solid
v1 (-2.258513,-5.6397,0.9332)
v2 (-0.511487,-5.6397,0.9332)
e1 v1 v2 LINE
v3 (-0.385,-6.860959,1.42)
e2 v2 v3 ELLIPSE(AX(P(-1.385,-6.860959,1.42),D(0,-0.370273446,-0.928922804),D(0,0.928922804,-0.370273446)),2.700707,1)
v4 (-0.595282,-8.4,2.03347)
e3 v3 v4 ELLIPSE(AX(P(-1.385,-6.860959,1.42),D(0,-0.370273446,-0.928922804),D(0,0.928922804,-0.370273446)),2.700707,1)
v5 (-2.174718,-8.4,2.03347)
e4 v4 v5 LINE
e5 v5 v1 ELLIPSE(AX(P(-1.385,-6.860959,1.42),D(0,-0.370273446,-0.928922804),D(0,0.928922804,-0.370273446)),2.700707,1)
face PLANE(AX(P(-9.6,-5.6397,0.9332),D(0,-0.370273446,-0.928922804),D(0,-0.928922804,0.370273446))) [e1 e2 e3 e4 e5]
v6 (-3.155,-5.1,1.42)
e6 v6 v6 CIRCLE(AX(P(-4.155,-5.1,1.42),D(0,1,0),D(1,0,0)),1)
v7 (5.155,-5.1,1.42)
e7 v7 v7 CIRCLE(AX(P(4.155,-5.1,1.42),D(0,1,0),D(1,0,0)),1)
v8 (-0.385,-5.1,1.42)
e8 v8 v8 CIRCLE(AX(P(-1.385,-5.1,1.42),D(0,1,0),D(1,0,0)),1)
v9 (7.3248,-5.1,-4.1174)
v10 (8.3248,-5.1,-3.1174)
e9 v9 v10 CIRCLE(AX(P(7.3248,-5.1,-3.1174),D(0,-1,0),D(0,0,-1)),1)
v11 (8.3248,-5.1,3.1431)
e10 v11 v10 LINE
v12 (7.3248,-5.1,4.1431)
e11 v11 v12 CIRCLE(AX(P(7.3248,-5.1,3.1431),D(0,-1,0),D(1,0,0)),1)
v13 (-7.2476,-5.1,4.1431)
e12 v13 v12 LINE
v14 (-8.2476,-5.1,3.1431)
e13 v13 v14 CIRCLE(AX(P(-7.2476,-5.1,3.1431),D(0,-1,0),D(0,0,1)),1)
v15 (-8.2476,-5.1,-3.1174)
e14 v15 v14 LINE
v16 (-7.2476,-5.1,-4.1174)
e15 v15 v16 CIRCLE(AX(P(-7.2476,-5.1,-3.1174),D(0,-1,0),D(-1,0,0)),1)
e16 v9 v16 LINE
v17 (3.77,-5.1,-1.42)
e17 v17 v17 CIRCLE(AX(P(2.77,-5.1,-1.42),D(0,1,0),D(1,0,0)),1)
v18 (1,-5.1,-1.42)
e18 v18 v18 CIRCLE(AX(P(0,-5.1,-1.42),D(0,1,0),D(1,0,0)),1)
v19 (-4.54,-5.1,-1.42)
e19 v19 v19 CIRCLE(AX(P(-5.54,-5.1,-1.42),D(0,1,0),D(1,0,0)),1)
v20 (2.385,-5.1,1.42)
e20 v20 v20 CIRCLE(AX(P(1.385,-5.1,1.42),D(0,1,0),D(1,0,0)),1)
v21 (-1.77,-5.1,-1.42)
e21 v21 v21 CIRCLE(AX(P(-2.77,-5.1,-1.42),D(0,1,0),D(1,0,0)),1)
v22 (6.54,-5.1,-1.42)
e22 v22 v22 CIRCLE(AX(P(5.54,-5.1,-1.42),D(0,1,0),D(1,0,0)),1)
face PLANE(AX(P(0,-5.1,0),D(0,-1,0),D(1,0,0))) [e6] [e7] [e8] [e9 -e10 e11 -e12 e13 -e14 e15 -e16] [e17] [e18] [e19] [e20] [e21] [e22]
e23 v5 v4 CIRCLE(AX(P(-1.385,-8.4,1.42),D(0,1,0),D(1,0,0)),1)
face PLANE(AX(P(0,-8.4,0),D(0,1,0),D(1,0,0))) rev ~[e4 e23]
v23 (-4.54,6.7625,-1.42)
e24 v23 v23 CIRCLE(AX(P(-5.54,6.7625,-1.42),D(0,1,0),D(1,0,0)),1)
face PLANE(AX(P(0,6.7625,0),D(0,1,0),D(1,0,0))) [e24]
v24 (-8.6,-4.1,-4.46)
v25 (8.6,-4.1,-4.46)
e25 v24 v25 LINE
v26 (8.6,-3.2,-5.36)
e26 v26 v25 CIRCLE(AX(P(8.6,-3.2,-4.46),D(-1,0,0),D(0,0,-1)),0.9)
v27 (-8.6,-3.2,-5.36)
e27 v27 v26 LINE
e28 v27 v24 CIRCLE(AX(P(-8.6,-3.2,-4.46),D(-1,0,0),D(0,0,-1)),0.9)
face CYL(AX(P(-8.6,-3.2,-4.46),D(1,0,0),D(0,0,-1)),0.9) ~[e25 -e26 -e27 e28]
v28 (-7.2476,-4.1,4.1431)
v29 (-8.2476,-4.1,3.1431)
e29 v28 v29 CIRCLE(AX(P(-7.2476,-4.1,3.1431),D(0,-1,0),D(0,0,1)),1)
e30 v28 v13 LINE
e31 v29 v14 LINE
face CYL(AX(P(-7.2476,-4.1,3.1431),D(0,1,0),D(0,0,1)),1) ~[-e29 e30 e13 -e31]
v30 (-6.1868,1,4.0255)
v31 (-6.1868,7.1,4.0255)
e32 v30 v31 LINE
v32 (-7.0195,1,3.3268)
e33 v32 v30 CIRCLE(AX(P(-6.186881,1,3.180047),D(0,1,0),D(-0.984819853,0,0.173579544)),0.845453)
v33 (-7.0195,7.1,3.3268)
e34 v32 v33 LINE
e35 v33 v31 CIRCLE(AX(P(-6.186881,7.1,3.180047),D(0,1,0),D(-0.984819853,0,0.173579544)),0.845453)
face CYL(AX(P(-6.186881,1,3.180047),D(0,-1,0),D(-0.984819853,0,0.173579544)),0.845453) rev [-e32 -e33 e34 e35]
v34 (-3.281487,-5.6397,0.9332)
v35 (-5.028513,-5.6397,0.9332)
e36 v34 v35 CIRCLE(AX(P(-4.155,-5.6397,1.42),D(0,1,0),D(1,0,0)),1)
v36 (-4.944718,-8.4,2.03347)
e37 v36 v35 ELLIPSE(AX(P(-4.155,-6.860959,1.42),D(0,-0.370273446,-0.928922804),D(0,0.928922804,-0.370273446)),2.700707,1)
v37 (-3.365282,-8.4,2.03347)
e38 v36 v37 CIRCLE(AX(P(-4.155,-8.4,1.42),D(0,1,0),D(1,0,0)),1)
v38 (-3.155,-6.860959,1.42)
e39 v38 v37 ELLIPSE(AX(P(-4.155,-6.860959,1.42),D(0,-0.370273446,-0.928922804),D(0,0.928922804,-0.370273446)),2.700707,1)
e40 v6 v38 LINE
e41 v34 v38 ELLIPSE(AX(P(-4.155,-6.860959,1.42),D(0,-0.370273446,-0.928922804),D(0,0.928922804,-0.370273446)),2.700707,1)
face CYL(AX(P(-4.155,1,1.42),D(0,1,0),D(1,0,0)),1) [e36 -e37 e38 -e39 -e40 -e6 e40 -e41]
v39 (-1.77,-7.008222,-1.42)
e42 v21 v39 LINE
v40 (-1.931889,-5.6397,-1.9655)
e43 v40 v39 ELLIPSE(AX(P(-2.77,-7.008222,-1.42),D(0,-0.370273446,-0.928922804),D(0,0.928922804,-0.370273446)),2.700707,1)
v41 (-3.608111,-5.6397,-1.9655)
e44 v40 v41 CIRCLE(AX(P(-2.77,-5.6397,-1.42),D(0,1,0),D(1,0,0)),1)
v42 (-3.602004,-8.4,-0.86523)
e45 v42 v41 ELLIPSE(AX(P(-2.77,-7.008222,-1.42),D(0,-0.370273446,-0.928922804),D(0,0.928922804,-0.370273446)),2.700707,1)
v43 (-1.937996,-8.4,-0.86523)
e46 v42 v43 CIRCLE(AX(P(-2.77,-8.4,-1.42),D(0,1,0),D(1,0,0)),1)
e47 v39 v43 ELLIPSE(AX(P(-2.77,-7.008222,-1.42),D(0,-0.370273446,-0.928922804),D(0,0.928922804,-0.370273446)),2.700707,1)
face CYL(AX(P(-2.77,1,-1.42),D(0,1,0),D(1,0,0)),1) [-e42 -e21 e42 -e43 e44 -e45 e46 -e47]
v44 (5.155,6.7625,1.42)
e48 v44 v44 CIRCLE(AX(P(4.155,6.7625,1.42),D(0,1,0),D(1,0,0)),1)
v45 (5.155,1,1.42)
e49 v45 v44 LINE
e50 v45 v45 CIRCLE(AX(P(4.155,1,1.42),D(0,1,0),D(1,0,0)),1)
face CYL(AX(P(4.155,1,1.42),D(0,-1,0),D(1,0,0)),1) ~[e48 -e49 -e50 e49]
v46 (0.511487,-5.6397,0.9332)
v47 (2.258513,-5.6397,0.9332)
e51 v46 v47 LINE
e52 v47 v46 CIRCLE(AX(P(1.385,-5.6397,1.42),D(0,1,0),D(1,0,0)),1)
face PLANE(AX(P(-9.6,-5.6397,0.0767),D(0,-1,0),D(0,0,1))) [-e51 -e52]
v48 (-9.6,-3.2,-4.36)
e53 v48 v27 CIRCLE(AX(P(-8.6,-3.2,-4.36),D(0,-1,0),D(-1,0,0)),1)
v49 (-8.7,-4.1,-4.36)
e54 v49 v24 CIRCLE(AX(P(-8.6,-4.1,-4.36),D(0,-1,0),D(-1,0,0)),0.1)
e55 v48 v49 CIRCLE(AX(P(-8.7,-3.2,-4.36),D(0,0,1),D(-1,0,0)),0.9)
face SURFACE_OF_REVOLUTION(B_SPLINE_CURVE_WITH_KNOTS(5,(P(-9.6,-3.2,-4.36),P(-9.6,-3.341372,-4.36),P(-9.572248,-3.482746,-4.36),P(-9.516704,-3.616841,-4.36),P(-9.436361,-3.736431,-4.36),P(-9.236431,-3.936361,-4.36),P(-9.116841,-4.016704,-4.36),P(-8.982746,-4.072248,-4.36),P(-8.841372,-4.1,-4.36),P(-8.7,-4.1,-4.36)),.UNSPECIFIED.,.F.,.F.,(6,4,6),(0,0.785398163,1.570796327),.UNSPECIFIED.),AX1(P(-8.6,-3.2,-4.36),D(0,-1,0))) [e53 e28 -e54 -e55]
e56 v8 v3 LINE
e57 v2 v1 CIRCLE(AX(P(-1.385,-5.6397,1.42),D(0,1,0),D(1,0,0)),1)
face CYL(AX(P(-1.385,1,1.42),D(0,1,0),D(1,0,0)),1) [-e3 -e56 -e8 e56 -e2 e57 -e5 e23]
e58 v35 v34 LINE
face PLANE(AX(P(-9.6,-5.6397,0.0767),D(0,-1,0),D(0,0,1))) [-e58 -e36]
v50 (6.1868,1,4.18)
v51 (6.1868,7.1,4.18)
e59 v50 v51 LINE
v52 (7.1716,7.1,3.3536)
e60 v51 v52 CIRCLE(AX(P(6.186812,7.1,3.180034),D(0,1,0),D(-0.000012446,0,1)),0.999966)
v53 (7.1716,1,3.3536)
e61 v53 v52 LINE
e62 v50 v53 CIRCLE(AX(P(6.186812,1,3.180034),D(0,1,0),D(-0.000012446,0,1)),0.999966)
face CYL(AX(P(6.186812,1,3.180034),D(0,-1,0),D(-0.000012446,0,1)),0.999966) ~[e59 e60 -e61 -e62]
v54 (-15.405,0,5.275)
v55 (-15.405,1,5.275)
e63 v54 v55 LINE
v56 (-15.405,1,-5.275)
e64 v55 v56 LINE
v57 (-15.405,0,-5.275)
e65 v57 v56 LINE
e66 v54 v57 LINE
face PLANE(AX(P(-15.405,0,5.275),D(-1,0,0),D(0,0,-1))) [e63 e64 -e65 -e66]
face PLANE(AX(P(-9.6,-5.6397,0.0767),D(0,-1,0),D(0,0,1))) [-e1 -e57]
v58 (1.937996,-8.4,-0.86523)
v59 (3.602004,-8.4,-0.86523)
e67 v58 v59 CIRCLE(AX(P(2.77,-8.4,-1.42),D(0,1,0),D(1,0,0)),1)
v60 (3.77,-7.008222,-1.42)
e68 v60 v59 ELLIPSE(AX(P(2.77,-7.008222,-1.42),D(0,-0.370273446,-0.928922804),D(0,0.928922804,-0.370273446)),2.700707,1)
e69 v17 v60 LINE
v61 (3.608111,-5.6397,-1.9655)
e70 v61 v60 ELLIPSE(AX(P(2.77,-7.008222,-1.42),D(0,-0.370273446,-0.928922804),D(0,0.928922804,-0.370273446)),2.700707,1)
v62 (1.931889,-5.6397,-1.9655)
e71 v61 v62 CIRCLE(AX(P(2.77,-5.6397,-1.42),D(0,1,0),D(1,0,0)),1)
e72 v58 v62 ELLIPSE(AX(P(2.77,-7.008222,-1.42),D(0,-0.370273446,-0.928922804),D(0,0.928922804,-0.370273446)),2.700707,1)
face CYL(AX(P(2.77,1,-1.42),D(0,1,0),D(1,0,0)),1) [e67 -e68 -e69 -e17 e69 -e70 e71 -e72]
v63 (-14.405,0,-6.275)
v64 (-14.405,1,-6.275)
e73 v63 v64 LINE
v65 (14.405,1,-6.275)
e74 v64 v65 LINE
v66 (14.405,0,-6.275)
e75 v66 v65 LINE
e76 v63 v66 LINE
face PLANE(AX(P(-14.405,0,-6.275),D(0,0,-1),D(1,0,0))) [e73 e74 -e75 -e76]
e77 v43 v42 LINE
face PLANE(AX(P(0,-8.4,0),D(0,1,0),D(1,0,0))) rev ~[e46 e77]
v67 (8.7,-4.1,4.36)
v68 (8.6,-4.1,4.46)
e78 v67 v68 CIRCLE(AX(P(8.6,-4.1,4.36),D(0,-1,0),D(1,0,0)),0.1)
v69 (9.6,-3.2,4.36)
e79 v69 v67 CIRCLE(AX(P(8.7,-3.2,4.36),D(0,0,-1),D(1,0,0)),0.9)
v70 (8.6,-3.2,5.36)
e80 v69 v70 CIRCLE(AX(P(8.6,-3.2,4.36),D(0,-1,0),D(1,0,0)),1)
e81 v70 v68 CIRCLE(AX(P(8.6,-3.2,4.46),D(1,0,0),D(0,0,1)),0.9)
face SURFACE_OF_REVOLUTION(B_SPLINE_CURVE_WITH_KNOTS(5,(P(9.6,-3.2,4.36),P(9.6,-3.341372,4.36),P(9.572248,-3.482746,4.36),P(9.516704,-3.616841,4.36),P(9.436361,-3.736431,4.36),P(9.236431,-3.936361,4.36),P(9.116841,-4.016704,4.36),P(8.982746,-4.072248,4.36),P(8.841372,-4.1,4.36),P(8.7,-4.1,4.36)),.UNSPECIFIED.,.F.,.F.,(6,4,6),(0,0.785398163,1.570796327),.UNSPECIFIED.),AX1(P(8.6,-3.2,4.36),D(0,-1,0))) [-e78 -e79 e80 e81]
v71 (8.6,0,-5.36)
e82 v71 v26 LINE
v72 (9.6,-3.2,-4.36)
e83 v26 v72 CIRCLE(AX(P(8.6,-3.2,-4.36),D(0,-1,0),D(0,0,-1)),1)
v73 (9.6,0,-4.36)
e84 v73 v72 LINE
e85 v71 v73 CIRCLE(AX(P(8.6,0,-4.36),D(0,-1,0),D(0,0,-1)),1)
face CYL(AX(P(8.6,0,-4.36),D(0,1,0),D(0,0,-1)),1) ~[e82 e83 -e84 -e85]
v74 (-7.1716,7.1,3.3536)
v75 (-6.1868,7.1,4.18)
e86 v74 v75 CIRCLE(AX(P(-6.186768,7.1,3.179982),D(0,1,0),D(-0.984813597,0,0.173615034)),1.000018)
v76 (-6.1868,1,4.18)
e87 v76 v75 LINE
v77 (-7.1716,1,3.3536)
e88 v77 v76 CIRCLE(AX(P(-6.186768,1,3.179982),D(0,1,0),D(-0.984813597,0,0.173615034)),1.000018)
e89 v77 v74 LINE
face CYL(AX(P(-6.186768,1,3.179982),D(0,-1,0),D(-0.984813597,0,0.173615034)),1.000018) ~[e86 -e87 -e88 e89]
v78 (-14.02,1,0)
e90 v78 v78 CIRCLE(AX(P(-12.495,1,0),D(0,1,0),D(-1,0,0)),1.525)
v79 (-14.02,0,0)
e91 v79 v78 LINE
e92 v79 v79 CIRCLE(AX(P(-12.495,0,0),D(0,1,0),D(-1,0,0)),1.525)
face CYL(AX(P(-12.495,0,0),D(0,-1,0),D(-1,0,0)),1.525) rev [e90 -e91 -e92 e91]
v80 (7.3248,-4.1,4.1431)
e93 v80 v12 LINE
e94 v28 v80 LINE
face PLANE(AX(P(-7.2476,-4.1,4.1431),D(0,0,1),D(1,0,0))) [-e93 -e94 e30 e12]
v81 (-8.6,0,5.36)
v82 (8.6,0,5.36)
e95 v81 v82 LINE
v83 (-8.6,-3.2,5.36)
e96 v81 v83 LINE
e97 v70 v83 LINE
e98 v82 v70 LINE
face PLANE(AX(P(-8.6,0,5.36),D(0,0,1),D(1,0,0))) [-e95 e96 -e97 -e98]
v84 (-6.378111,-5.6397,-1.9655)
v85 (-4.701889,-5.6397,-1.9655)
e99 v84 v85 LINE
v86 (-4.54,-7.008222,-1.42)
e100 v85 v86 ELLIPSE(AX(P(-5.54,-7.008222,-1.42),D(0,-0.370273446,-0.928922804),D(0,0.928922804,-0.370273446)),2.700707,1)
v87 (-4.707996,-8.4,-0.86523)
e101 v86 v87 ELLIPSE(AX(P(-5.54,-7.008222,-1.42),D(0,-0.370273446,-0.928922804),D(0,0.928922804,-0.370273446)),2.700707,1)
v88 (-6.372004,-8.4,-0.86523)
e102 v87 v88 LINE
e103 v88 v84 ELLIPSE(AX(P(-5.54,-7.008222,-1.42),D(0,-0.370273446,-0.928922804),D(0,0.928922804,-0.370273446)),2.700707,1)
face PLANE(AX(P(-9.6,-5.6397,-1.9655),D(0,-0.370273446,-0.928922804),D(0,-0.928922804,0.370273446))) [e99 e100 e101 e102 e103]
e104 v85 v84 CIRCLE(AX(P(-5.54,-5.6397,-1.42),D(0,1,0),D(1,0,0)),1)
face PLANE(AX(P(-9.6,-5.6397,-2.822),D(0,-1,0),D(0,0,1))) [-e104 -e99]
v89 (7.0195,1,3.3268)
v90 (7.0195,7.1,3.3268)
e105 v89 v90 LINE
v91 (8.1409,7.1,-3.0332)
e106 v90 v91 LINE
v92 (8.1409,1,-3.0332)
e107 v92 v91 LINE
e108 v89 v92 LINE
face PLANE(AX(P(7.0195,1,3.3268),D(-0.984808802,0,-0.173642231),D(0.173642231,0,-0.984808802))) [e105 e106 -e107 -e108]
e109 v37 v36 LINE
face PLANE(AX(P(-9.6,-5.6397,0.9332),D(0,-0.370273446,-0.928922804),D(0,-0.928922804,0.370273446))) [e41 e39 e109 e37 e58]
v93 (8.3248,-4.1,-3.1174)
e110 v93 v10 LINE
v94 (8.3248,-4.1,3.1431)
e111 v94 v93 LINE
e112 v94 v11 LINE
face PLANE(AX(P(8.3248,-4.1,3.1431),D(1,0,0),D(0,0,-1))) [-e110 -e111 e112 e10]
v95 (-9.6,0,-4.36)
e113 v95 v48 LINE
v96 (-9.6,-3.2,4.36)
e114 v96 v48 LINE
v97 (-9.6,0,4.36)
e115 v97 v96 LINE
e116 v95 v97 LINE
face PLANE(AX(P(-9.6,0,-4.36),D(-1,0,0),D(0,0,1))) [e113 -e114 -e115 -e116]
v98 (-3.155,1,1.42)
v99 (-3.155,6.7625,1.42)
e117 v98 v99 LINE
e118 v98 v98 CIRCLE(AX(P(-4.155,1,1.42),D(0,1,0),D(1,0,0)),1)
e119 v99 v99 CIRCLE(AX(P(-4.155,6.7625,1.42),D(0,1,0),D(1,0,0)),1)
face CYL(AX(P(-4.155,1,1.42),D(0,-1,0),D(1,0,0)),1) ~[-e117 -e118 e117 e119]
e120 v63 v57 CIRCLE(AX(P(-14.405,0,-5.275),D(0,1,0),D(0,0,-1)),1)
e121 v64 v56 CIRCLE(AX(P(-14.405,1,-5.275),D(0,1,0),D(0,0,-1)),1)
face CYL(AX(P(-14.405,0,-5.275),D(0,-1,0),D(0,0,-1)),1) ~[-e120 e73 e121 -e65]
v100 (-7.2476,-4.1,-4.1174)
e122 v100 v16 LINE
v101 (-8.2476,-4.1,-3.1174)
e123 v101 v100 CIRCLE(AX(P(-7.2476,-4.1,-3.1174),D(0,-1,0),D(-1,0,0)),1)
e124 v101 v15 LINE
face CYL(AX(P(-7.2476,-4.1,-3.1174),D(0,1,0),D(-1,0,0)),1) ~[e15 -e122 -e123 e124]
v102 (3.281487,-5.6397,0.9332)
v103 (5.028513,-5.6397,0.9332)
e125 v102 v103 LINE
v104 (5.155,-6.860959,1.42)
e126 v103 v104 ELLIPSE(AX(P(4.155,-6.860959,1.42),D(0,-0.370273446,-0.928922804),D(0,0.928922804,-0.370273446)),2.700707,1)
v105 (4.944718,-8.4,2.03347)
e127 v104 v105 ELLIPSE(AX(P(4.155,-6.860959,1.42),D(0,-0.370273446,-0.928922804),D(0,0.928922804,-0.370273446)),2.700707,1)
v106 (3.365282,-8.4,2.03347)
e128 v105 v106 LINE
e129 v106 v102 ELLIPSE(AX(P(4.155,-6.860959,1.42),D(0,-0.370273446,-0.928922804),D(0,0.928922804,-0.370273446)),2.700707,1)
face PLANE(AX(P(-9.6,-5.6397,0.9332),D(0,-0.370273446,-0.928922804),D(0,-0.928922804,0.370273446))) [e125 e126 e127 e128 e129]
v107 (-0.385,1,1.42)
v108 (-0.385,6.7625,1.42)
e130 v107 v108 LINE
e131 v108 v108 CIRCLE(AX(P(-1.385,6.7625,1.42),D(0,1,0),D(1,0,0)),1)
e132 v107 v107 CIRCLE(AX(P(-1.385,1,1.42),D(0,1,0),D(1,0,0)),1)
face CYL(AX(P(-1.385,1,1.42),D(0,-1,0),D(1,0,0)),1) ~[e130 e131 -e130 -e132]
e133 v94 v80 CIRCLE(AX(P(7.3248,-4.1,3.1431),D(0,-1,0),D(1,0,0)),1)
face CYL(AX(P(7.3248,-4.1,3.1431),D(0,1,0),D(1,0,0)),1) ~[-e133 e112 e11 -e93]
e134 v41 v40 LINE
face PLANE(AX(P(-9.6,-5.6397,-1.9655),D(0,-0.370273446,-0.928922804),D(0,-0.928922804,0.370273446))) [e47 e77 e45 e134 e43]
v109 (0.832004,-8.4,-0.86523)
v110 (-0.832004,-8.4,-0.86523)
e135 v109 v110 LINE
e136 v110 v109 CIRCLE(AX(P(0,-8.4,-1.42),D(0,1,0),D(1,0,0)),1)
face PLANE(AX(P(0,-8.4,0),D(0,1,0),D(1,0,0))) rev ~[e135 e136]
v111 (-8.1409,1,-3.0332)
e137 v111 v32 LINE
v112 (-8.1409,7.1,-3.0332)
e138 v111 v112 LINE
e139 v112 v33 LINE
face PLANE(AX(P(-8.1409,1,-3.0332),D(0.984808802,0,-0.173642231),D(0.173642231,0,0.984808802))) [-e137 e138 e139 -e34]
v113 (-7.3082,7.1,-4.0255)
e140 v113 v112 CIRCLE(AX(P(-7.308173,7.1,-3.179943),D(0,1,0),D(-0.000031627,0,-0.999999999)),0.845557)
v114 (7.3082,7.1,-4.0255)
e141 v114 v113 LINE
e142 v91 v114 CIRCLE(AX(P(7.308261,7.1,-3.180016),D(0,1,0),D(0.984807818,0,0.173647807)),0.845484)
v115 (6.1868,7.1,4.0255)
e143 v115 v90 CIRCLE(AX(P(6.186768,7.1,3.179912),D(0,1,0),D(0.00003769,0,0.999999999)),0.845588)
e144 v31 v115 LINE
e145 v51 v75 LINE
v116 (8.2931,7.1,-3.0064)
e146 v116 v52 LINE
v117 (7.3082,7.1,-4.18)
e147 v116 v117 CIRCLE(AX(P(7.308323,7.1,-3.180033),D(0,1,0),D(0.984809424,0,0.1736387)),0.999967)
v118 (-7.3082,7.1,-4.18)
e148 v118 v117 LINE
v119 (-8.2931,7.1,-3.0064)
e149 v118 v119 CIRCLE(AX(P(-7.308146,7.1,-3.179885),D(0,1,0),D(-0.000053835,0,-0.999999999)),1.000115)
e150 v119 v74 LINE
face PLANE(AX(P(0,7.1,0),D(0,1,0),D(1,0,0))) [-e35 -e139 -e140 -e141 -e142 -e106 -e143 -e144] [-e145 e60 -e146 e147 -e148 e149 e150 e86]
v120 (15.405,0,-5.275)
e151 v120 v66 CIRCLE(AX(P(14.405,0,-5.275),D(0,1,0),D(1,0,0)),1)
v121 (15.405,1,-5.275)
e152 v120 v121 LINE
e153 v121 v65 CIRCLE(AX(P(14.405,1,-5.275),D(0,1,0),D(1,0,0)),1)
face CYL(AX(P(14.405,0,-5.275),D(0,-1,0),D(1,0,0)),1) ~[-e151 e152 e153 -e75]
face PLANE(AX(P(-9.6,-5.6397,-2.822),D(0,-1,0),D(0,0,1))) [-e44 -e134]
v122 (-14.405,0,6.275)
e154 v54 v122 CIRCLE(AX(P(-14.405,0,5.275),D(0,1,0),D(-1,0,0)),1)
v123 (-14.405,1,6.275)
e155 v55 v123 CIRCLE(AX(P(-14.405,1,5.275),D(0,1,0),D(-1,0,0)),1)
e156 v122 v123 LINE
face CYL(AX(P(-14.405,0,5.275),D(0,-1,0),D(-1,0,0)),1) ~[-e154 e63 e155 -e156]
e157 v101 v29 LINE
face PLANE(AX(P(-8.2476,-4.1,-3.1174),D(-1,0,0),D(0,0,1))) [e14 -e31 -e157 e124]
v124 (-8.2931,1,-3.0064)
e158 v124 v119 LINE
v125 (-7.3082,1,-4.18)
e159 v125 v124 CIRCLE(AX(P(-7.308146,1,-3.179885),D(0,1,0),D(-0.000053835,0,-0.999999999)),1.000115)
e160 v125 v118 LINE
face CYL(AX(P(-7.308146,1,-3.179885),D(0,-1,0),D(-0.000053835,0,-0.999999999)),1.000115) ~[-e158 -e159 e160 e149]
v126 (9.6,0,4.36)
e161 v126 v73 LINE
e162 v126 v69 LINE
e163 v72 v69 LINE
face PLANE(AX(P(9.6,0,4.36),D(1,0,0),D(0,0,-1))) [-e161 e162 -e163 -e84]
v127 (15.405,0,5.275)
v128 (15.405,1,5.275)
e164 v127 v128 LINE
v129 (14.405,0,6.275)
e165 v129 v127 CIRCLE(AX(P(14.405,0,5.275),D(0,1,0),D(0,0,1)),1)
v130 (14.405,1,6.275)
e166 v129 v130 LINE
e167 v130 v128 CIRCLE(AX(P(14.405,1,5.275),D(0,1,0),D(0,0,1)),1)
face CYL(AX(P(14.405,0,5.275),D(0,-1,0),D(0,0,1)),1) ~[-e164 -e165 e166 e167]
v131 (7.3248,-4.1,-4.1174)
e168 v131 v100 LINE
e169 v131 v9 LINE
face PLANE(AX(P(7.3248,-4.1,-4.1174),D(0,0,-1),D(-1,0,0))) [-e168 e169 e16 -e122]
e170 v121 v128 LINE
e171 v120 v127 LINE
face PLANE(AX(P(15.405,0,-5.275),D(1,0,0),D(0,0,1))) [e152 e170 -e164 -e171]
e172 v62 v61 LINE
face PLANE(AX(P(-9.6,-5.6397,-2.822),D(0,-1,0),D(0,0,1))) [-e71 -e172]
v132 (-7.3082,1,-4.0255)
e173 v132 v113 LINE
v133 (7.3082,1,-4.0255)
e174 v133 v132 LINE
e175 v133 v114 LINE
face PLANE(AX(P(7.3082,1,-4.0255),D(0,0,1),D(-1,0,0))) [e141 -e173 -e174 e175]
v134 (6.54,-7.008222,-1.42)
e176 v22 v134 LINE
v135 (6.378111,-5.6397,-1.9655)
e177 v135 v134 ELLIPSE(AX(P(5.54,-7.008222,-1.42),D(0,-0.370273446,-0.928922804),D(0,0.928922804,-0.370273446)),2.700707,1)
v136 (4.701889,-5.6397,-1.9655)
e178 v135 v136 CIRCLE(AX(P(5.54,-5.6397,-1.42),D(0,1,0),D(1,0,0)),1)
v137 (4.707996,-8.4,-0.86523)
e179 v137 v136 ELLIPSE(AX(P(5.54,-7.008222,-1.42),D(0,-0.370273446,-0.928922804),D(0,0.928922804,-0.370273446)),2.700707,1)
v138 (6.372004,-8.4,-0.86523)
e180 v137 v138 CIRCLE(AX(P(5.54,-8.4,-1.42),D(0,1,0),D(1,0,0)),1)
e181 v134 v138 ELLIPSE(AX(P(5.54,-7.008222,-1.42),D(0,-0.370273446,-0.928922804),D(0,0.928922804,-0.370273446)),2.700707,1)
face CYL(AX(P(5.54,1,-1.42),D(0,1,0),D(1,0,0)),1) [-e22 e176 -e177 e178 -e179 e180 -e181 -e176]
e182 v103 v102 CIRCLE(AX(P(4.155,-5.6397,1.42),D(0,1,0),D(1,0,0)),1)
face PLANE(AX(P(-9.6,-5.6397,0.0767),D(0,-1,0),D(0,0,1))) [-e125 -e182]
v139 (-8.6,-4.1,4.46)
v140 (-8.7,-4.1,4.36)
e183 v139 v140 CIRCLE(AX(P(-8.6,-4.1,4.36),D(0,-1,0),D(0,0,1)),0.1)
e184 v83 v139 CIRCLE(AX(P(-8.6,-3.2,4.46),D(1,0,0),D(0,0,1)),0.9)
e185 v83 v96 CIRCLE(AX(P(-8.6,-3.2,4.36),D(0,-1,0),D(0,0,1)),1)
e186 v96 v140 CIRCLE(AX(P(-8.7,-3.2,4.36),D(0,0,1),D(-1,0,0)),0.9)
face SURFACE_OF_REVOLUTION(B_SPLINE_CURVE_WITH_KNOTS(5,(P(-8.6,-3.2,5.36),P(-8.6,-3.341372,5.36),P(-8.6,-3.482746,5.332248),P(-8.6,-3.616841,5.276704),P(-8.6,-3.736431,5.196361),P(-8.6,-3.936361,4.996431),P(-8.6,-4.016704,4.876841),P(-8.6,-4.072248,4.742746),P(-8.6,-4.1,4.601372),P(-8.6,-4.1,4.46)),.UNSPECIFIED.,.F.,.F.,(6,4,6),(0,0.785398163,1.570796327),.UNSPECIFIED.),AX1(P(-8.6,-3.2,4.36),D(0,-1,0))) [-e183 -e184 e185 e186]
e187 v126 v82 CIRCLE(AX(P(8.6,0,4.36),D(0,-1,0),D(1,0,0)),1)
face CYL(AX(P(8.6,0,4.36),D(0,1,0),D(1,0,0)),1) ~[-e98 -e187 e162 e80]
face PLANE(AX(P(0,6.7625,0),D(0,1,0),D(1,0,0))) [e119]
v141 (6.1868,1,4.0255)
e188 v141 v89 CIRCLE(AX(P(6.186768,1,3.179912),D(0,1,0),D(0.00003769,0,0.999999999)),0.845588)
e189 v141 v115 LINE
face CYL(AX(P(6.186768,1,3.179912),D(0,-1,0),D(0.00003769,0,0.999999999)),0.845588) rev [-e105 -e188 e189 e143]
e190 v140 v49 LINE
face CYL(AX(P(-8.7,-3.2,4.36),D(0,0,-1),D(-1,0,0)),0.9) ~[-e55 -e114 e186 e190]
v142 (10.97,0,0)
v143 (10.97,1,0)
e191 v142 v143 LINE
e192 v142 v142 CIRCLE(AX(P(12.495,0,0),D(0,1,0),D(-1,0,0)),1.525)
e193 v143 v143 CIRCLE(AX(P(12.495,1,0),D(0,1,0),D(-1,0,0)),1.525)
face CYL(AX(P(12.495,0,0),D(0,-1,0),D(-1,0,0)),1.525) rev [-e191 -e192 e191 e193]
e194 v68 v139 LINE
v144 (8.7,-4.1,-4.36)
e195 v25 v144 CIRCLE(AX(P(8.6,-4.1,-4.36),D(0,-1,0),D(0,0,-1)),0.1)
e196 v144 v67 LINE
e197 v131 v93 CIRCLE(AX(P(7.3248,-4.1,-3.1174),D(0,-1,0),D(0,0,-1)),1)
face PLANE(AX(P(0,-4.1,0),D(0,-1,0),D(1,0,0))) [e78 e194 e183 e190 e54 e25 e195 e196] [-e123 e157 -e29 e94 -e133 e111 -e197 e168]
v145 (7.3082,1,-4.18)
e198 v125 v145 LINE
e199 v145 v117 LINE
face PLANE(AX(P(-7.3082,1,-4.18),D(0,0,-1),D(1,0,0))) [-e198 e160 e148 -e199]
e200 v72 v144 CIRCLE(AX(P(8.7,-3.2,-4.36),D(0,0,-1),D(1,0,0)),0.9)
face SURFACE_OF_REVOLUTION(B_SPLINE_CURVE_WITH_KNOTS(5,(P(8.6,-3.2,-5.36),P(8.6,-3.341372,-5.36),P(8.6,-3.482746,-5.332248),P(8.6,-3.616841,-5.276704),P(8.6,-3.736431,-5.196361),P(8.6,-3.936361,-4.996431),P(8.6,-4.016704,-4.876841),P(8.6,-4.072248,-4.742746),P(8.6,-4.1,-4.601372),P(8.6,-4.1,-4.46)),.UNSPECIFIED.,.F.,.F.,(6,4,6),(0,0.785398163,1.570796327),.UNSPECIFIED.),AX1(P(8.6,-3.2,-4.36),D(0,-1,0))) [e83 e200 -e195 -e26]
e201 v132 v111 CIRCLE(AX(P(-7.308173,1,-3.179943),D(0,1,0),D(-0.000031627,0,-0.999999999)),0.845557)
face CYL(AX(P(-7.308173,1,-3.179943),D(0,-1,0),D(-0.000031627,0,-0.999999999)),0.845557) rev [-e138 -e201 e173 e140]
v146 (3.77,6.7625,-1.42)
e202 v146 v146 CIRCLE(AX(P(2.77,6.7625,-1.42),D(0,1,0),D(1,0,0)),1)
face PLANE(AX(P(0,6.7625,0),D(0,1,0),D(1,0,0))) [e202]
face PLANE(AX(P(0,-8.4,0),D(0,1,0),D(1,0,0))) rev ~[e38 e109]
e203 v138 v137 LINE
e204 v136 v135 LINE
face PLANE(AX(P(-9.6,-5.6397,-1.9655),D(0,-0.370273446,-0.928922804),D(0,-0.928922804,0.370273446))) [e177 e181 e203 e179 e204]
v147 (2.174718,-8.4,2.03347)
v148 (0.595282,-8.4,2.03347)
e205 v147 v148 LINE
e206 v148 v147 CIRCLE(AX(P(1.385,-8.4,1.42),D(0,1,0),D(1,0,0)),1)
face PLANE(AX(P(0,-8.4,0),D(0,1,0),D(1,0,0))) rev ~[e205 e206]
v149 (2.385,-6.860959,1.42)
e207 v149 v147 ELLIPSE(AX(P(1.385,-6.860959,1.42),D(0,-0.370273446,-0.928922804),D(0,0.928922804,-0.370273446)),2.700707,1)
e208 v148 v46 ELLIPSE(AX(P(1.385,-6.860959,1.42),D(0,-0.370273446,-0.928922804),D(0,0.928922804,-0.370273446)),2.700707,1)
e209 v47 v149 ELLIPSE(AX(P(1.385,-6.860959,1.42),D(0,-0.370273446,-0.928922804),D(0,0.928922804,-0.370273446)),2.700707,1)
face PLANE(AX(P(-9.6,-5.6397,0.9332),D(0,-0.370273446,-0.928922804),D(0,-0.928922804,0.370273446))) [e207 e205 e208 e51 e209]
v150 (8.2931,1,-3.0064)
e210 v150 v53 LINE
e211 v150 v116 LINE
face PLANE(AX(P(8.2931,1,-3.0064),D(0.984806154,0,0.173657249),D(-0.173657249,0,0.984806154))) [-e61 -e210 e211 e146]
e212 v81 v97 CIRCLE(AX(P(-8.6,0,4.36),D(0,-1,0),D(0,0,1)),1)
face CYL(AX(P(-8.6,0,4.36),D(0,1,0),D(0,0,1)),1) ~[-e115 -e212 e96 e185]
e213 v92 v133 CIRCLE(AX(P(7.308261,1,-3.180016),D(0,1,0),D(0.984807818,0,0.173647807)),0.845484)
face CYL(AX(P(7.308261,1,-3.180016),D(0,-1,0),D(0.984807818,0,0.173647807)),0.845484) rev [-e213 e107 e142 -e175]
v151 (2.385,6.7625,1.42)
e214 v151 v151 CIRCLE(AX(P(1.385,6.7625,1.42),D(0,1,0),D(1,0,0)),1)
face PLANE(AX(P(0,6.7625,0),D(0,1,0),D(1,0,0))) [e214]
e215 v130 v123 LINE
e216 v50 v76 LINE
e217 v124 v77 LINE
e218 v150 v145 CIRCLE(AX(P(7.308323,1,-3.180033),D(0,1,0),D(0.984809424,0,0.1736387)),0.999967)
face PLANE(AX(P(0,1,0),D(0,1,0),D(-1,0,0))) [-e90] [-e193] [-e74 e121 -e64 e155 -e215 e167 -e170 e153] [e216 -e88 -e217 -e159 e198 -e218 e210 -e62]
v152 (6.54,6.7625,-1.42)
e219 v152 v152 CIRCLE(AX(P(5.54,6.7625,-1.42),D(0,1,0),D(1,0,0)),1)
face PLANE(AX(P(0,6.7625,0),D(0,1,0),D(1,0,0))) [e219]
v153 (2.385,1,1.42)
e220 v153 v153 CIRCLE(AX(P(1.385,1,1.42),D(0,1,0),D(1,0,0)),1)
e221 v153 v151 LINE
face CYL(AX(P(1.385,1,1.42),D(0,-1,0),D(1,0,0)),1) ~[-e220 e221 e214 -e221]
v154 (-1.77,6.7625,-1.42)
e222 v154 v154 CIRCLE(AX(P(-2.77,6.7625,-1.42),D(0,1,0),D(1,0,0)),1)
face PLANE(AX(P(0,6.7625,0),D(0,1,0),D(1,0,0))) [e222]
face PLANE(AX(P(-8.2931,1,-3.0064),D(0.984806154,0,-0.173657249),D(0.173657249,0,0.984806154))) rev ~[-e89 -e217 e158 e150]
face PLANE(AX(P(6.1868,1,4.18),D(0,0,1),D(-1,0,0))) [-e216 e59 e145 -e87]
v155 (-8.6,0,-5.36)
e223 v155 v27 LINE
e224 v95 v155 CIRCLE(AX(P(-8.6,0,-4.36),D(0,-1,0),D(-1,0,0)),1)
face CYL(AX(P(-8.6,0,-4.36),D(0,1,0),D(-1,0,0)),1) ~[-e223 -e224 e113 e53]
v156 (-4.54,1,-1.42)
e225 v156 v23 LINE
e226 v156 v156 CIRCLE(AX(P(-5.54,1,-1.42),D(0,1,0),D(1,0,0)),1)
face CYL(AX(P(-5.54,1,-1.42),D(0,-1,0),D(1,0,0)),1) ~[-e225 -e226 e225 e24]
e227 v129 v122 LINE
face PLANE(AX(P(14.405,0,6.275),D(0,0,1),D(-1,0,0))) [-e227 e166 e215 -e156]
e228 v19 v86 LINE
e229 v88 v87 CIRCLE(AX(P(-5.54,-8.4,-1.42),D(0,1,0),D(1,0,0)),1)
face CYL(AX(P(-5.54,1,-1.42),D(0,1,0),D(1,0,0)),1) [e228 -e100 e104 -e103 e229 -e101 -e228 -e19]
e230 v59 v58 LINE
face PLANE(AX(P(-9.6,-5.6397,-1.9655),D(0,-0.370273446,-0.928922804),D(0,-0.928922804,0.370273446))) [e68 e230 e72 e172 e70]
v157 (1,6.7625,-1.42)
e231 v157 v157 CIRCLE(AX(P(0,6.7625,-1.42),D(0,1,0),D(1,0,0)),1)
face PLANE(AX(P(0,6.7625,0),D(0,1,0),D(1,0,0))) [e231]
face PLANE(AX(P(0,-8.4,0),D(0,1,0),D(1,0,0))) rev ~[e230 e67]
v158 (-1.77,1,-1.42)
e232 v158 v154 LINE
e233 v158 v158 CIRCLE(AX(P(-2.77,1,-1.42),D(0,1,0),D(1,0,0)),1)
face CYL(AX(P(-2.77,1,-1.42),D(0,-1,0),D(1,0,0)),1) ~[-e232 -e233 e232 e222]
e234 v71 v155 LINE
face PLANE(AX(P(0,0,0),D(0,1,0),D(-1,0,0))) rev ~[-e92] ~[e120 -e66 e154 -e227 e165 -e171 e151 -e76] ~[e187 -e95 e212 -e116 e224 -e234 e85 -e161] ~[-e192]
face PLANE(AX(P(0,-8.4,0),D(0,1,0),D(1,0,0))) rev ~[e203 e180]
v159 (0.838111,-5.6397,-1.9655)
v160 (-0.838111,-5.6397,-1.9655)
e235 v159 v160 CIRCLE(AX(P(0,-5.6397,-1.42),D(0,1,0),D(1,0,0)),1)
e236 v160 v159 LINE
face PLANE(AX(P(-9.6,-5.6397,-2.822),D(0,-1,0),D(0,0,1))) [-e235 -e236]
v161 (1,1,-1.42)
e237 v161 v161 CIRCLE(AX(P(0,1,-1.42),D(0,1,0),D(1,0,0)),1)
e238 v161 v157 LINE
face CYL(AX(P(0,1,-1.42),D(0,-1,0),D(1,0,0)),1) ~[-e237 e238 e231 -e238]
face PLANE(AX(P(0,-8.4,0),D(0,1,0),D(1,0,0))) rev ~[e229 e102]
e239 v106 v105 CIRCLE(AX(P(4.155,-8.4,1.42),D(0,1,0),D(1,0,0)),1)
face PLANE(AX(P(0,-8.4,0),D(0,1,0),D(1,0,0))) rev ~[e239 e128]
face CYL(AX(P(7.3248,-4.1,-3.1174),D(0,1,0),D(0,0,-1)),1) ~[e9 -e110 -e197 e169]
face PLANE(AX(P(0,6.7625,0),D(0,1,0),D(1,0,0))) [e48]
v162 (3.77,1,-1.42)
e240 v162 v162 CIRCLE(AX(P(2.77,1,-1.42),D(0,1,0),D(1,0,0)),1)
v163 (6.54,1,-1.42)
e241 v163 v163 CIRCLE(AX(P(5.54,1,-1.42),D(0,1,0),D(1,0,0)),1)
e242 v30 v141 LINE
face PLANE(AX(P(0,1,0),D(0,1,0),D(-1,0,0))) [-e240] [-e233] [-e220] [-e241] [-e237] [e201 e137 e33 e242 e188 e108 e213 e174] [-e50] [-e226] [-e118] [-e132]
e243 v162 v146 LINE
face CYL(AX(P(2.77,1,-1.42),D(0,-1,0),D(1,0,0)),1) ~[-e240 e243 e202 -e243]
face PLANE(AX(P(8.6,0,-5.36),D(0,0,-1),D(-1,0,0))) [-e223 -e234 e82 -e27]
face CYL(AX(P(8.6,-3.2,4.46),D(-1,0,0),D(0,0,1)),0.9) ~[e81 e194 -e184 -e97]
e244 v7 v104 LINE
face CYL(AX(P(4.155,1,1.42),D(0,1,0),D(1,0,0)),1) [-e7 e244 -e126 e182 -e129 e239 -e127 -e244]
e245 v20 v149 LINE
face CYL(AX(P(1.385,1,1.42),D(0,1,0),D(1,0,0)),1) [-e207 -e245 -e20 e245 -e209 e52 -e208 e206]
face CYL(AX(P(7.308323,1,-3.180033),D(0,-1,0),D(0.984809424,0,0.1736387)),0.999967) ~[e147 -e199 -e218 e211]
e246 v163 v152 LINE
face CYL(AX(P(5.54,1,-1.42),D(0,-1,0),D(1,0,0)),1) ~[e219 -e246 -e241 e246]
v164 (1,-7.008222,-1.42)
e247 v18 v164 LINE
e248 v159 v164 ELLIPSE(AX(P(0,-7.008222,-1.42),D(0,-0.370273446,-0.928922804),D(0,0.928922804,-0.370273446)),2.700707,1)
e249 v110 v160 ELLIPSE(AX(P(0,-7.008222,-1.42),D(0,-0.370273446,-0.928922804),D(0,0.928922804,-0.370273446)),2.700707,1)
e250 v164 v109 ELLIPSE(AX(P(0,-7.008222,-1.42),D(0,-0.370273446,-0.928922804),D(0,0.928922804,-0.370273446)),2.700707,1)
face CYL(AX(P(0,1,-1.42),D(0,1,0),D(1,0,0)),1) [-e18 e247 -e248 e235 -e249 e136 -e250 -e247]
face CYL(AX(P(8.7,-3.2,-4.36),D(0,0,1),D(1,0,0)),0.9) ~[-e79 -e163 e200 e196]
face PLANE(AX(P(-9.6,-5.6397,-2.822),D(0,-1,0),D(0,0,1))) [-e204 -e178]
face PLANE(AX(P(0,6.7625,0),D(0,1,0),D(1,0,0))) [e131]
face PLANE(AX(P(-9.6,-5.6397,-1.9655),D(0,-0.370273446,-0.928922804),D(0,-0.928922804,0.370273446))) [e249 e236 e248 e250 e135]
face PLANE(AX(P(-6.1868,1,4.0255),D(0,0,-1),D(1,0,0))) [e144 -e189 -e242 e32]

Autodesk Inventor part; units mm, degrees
ref_plane "YZ Plane" through (0, 0, 0) normal (1, 0, 0) x (0, 1, 0)
ref_plane "XZ Plane" through (0, 0, 0) normal (0, 1, 0) x (-1, 0, 0)
ref_plane "XY Plane" through (0, 0, 0) normal (0, 0, 1) x (1, 0, 0)
sketch "Sketch1" plane through (0, 0, 0) normal (0, 1, 0) x (-1, 0, 0)
  line L0 (-14.405, 6.275) -> (14.405, 6.275)
  line L1 (15.405, 5.275) -> (15.405, -5.275)
  line L2 (14.405, -6.275) -> (-14.405, -6.275)
  line L3 (-15.405, -5.275) -> (-15.405, 5.275)
  arc A0 (-14.405, 6.275) -> (-15.405, 5.275) centre (-14.405, 5.275) ccw
  arc A1 (15.405, 5.275) -> (14.405, 6.275) centre (14.405, 5.275) ccw
  arc A2 (14.405, -6.275) -> (15.405, -5.275) centre (14.405, -5.275) ccw
  arc A3 (-15.405, -5.275) -> (-14.405, -6.275) centre (-14.405, -5.275) ccw
  circle A4 centre (12.495, 0) radius 1.525
  circle A5 centre (-12.495, 0) radius 1.525
  point P0 (0, 0)
  point P1 (-15.405, 6.275)
  point P2 (15.405, -6.275)
  point P3 (15.405, 6.275)
  dimension "d0" = 30.81
  dimension "d1" = 12.55
  dimension "d2" = 6.275
  dimension "d3" = 15.405
  dimension "d4" = 1
  dimension "d16" = 3.05
  dimension "d17" = 3.05
  dimension "d18" = 24.99
  dimension "d19" = 12.495
extrude "Extrusion1" add sketch "Sketch1" along normal blind 1
sketch "Sketch2" plane through (0, 1, 0) normal (0, 1, 0) x (1, 0, 0)
  line L0 (-7.3082, 4.18) -> (7.3082, 4.18)
  line L1 (8.5, 4.18) -> (8.5, -4.18)
  line L2 (6.1868, -4.18) -> (-6.1868, -4.18)
  line L3 (-8.5, -4.18) -> (-8.5, 4.18)
  line L4 (-8.2931, 3.0064) -> (-7.1716, -3.3536)
  line L5 (8.2931, 3.0064) -> (7.1716, -3.3536)
  arc A0 (-7.3082, 4.18) -> (-8.2931, 3.0064) centre (-7.3082, 3.18) ccw
  arc A1 (-7.1716, -3.3536) -> (-6.1868, -4.18) centre (-6.1868, -3.18) ccw
  arc A2 (6.1868, -4.18) -> (7.1716, -3.3536) centre (6.1868, -3.18) ccw
  arc A3 (8.2931, 3.0064) -> (7.3082, 4.18) centre (7.3082, 3.18) ccw
  line L6 (7.3082, 4.0255) -> (-7.3082, 4.0255)
  arc A4 (-7.3082, 4.0255) -> (-8.1409, 3.0332) centre (-7.3082, 3.18) ccw
  line L7 (-8.1409, 3.0332) -> (-7.0195, -3.3268)
  arc A5 (-7.0195, -3.3268) -> (-6.1868, -4.0255) centre (-6.1868, -3.18) ccw
  line L8 (-6.1868, -4.0255) -> (6.1868, -4.0255)
  arc A6 (6.1868, -4.0255) -> (7.0195, -3.3268) centre (6.1868, -3.18) ccw
  line L9 (7.0195, -3.3268) -> (8.1409, 3.0332)
  arc A7 (8.1409, 3.0332) -> (7.3082, 4.0255) centre (7.3082, 3.18) ccw
  point P0 (0, 0)
  dimension "d7" = 17
  dimension "d8" = 8.36
  dimension "d9" = 4.18
  dimension "d10" = 8.5
  dimension "d11" = 10
  dimension "d12" = 10
  dimension "d13" = 1
extrude "Extrusion2" add sketch "Sketch2" along normal blind 6.1
sketch "Sketch3" plane through (0, 0, 0) normal (0, -1, 0) x (1, 0, 0)
  line L0 (-8.6, 5.36) -> (8.6, 5.36)
  line L1 (9.6, 4.36) -> (9.6, -4.36)
  line L2 (8.6, -5.36) -> (-8.6, -5.36)
  line L3 (-9.6, -4.36) -> (-9.6, 4.36)
  arc A0 (-8.6, 5.36) -> (-9.6, 4.36) centre (-8.6, 4.36) ccw
  arc A1 (9.6, 4.36) -> (8.6, 5.36) centre (8.6, 4.36) ccw
  arc A2 (8.6, -5.36) -> (9.6, -4.36) centre (8.6, -4.36) ccw
  arc A3 (-9.6, -4.36) -> (-8.6, -5.36) centre (-8.6, -4.36) ccw
  point P0 (0, 0)
  point P1 (-9.6, 5.36)
  point P2 (9.6, -5.36)
  point P3 (9.6, 5.36)
  dimension "d20" = 19.2
  dimension "d21" = 10.72
  dimension "d22" = 5.36
  dimension "d23" = 9.6
  dimension "d24" = 1
extrude "Extrusion3" add sketch "Sketch3" along normal blind 4.1
fillet "Fillet1" radius 0.9 8 edges at (9.3071, -4.1, -5.0671) (9.6, -4.1, 0) (9.3071, -4.1, 5.0671) (0, -4.1, 5.36) (-9.3071, -4.1, 5.0671) (-9.6, -4.1, 0) (-9.3071, -4.1, -5.0671) (0, -4.1, -5.36)
sketch "Sketch4" plane through (0, -4.1, 0) normal (0, -1, 0) x (1, 0, 0)
  line L0 (-7.2476, 4.1431) -> (7.3248, 4.1431)
  line L1 (8.3248, 3.1431) -> (8.3248, -3.1174)
  line L2 (7.3248, -4.1174) -> (-7.2476, -4.1174)
  line L3 (-8.2476, -3.1174) -> (-8.2476, 3.1431)
  arc A0 (-7.2476, 4.1431) -> (-8.2476, 3.1431) centre (-7.2476, 3.1431) ccw
  arc A1 (8.3248, 3.1431) -> (7.3248, 4.1431) centre (7.3248, 3.1431) ccw
  arc A2 (7.3248, -4.1174) -> (8.3248, -3.1174) centre (7.3248, -3.1174) ccw
  arc A3 (-8.2476, -3.1174) -> (-7.2476, -4.1174) centre (-7.2476, -3.1174) ccw
  point P0 (0, 0)
  point P1 (-8.2476, 4.1431)
  point P2 (8.3248, -4.1174)
  point P3 (8.3248, 4.1431)
  point P4 (-8.2476, -4.1174)
  dimension "d30" = 1
extrude "Extrusion4" add sketch "Sketch4" along normal blind 1
sketch "Sketch5" plane through (0, 1, 0) normal (0, 1, 0) x (1, 0, 0)
  line L0 (7.3082, 4.0255) -> (-7.3082, 4.0255) projected
  circle A0 centre (-5.54, 1.42) radius 1
  circle A1 centre (-4.155, -1.42) radius 1
  circle A2 centre (-2.77, 1.42) radius 1
  circle A3 centre (0, 1.42) radius 1
  circle A4 centre (2.77, 1.42) radius 1
  circle A5 centre (5.54, 1.42) radius 1
  circle A6 centre (-1.385, -1.42) radius 1
  circle A7 centre (1.385, -1.42) radius 1
  circle A8 centre (4.155, -1.42) radius 1
  point P0 (0, 0)
  dimension "d31" = 5.54
  dimension "d32" = 4.155
  dimension "d34" = 1.42
  dimension "d35" = 1.42
  dimension "d36" = 2
  dimension "d37" = 2
  dimension "d40" = 2.77
  dimension "d47" = 2.77
extrude "Extrusion5" add sketch "Sketch5" along normal blind 5.7625 and the other way blind 9.4
sketch "Sketch6" plane through (-9.6, 0, -4.36) normal (-1, 0, 0) x (0, 0, 1)
  line L0 (0, 0) -> (0, -3.2) projected
  line L1 (1.538, -5.6397) -> (2.3945, -5.6397)
  line L2 (2.3945, -5.6397) -> (3.6462, -8.7799)
  line L3 (3.6462, -8.7799) -> (1.538, -8.7799)
  line L4 (1.538, -8.7799) -> (1.538, -5.6397)
  line L5 (4.4367, -5.6397) -> (5.2932, -5.6397)
  line L6 (5.2932, -5.6397) -> (6.5449, -8.7799)
  line L7 (6.5449, -8.7799) -> (4.4367, -8.7799)
  line L8 (4.4367, -8.7799) -> (4.4367, -5.6397)
  point P0 (4.36, 0)
extrude "Extrusion6" cut sketch "Sketch6" against normal through all
properties part number "DSUB_9_Male"
